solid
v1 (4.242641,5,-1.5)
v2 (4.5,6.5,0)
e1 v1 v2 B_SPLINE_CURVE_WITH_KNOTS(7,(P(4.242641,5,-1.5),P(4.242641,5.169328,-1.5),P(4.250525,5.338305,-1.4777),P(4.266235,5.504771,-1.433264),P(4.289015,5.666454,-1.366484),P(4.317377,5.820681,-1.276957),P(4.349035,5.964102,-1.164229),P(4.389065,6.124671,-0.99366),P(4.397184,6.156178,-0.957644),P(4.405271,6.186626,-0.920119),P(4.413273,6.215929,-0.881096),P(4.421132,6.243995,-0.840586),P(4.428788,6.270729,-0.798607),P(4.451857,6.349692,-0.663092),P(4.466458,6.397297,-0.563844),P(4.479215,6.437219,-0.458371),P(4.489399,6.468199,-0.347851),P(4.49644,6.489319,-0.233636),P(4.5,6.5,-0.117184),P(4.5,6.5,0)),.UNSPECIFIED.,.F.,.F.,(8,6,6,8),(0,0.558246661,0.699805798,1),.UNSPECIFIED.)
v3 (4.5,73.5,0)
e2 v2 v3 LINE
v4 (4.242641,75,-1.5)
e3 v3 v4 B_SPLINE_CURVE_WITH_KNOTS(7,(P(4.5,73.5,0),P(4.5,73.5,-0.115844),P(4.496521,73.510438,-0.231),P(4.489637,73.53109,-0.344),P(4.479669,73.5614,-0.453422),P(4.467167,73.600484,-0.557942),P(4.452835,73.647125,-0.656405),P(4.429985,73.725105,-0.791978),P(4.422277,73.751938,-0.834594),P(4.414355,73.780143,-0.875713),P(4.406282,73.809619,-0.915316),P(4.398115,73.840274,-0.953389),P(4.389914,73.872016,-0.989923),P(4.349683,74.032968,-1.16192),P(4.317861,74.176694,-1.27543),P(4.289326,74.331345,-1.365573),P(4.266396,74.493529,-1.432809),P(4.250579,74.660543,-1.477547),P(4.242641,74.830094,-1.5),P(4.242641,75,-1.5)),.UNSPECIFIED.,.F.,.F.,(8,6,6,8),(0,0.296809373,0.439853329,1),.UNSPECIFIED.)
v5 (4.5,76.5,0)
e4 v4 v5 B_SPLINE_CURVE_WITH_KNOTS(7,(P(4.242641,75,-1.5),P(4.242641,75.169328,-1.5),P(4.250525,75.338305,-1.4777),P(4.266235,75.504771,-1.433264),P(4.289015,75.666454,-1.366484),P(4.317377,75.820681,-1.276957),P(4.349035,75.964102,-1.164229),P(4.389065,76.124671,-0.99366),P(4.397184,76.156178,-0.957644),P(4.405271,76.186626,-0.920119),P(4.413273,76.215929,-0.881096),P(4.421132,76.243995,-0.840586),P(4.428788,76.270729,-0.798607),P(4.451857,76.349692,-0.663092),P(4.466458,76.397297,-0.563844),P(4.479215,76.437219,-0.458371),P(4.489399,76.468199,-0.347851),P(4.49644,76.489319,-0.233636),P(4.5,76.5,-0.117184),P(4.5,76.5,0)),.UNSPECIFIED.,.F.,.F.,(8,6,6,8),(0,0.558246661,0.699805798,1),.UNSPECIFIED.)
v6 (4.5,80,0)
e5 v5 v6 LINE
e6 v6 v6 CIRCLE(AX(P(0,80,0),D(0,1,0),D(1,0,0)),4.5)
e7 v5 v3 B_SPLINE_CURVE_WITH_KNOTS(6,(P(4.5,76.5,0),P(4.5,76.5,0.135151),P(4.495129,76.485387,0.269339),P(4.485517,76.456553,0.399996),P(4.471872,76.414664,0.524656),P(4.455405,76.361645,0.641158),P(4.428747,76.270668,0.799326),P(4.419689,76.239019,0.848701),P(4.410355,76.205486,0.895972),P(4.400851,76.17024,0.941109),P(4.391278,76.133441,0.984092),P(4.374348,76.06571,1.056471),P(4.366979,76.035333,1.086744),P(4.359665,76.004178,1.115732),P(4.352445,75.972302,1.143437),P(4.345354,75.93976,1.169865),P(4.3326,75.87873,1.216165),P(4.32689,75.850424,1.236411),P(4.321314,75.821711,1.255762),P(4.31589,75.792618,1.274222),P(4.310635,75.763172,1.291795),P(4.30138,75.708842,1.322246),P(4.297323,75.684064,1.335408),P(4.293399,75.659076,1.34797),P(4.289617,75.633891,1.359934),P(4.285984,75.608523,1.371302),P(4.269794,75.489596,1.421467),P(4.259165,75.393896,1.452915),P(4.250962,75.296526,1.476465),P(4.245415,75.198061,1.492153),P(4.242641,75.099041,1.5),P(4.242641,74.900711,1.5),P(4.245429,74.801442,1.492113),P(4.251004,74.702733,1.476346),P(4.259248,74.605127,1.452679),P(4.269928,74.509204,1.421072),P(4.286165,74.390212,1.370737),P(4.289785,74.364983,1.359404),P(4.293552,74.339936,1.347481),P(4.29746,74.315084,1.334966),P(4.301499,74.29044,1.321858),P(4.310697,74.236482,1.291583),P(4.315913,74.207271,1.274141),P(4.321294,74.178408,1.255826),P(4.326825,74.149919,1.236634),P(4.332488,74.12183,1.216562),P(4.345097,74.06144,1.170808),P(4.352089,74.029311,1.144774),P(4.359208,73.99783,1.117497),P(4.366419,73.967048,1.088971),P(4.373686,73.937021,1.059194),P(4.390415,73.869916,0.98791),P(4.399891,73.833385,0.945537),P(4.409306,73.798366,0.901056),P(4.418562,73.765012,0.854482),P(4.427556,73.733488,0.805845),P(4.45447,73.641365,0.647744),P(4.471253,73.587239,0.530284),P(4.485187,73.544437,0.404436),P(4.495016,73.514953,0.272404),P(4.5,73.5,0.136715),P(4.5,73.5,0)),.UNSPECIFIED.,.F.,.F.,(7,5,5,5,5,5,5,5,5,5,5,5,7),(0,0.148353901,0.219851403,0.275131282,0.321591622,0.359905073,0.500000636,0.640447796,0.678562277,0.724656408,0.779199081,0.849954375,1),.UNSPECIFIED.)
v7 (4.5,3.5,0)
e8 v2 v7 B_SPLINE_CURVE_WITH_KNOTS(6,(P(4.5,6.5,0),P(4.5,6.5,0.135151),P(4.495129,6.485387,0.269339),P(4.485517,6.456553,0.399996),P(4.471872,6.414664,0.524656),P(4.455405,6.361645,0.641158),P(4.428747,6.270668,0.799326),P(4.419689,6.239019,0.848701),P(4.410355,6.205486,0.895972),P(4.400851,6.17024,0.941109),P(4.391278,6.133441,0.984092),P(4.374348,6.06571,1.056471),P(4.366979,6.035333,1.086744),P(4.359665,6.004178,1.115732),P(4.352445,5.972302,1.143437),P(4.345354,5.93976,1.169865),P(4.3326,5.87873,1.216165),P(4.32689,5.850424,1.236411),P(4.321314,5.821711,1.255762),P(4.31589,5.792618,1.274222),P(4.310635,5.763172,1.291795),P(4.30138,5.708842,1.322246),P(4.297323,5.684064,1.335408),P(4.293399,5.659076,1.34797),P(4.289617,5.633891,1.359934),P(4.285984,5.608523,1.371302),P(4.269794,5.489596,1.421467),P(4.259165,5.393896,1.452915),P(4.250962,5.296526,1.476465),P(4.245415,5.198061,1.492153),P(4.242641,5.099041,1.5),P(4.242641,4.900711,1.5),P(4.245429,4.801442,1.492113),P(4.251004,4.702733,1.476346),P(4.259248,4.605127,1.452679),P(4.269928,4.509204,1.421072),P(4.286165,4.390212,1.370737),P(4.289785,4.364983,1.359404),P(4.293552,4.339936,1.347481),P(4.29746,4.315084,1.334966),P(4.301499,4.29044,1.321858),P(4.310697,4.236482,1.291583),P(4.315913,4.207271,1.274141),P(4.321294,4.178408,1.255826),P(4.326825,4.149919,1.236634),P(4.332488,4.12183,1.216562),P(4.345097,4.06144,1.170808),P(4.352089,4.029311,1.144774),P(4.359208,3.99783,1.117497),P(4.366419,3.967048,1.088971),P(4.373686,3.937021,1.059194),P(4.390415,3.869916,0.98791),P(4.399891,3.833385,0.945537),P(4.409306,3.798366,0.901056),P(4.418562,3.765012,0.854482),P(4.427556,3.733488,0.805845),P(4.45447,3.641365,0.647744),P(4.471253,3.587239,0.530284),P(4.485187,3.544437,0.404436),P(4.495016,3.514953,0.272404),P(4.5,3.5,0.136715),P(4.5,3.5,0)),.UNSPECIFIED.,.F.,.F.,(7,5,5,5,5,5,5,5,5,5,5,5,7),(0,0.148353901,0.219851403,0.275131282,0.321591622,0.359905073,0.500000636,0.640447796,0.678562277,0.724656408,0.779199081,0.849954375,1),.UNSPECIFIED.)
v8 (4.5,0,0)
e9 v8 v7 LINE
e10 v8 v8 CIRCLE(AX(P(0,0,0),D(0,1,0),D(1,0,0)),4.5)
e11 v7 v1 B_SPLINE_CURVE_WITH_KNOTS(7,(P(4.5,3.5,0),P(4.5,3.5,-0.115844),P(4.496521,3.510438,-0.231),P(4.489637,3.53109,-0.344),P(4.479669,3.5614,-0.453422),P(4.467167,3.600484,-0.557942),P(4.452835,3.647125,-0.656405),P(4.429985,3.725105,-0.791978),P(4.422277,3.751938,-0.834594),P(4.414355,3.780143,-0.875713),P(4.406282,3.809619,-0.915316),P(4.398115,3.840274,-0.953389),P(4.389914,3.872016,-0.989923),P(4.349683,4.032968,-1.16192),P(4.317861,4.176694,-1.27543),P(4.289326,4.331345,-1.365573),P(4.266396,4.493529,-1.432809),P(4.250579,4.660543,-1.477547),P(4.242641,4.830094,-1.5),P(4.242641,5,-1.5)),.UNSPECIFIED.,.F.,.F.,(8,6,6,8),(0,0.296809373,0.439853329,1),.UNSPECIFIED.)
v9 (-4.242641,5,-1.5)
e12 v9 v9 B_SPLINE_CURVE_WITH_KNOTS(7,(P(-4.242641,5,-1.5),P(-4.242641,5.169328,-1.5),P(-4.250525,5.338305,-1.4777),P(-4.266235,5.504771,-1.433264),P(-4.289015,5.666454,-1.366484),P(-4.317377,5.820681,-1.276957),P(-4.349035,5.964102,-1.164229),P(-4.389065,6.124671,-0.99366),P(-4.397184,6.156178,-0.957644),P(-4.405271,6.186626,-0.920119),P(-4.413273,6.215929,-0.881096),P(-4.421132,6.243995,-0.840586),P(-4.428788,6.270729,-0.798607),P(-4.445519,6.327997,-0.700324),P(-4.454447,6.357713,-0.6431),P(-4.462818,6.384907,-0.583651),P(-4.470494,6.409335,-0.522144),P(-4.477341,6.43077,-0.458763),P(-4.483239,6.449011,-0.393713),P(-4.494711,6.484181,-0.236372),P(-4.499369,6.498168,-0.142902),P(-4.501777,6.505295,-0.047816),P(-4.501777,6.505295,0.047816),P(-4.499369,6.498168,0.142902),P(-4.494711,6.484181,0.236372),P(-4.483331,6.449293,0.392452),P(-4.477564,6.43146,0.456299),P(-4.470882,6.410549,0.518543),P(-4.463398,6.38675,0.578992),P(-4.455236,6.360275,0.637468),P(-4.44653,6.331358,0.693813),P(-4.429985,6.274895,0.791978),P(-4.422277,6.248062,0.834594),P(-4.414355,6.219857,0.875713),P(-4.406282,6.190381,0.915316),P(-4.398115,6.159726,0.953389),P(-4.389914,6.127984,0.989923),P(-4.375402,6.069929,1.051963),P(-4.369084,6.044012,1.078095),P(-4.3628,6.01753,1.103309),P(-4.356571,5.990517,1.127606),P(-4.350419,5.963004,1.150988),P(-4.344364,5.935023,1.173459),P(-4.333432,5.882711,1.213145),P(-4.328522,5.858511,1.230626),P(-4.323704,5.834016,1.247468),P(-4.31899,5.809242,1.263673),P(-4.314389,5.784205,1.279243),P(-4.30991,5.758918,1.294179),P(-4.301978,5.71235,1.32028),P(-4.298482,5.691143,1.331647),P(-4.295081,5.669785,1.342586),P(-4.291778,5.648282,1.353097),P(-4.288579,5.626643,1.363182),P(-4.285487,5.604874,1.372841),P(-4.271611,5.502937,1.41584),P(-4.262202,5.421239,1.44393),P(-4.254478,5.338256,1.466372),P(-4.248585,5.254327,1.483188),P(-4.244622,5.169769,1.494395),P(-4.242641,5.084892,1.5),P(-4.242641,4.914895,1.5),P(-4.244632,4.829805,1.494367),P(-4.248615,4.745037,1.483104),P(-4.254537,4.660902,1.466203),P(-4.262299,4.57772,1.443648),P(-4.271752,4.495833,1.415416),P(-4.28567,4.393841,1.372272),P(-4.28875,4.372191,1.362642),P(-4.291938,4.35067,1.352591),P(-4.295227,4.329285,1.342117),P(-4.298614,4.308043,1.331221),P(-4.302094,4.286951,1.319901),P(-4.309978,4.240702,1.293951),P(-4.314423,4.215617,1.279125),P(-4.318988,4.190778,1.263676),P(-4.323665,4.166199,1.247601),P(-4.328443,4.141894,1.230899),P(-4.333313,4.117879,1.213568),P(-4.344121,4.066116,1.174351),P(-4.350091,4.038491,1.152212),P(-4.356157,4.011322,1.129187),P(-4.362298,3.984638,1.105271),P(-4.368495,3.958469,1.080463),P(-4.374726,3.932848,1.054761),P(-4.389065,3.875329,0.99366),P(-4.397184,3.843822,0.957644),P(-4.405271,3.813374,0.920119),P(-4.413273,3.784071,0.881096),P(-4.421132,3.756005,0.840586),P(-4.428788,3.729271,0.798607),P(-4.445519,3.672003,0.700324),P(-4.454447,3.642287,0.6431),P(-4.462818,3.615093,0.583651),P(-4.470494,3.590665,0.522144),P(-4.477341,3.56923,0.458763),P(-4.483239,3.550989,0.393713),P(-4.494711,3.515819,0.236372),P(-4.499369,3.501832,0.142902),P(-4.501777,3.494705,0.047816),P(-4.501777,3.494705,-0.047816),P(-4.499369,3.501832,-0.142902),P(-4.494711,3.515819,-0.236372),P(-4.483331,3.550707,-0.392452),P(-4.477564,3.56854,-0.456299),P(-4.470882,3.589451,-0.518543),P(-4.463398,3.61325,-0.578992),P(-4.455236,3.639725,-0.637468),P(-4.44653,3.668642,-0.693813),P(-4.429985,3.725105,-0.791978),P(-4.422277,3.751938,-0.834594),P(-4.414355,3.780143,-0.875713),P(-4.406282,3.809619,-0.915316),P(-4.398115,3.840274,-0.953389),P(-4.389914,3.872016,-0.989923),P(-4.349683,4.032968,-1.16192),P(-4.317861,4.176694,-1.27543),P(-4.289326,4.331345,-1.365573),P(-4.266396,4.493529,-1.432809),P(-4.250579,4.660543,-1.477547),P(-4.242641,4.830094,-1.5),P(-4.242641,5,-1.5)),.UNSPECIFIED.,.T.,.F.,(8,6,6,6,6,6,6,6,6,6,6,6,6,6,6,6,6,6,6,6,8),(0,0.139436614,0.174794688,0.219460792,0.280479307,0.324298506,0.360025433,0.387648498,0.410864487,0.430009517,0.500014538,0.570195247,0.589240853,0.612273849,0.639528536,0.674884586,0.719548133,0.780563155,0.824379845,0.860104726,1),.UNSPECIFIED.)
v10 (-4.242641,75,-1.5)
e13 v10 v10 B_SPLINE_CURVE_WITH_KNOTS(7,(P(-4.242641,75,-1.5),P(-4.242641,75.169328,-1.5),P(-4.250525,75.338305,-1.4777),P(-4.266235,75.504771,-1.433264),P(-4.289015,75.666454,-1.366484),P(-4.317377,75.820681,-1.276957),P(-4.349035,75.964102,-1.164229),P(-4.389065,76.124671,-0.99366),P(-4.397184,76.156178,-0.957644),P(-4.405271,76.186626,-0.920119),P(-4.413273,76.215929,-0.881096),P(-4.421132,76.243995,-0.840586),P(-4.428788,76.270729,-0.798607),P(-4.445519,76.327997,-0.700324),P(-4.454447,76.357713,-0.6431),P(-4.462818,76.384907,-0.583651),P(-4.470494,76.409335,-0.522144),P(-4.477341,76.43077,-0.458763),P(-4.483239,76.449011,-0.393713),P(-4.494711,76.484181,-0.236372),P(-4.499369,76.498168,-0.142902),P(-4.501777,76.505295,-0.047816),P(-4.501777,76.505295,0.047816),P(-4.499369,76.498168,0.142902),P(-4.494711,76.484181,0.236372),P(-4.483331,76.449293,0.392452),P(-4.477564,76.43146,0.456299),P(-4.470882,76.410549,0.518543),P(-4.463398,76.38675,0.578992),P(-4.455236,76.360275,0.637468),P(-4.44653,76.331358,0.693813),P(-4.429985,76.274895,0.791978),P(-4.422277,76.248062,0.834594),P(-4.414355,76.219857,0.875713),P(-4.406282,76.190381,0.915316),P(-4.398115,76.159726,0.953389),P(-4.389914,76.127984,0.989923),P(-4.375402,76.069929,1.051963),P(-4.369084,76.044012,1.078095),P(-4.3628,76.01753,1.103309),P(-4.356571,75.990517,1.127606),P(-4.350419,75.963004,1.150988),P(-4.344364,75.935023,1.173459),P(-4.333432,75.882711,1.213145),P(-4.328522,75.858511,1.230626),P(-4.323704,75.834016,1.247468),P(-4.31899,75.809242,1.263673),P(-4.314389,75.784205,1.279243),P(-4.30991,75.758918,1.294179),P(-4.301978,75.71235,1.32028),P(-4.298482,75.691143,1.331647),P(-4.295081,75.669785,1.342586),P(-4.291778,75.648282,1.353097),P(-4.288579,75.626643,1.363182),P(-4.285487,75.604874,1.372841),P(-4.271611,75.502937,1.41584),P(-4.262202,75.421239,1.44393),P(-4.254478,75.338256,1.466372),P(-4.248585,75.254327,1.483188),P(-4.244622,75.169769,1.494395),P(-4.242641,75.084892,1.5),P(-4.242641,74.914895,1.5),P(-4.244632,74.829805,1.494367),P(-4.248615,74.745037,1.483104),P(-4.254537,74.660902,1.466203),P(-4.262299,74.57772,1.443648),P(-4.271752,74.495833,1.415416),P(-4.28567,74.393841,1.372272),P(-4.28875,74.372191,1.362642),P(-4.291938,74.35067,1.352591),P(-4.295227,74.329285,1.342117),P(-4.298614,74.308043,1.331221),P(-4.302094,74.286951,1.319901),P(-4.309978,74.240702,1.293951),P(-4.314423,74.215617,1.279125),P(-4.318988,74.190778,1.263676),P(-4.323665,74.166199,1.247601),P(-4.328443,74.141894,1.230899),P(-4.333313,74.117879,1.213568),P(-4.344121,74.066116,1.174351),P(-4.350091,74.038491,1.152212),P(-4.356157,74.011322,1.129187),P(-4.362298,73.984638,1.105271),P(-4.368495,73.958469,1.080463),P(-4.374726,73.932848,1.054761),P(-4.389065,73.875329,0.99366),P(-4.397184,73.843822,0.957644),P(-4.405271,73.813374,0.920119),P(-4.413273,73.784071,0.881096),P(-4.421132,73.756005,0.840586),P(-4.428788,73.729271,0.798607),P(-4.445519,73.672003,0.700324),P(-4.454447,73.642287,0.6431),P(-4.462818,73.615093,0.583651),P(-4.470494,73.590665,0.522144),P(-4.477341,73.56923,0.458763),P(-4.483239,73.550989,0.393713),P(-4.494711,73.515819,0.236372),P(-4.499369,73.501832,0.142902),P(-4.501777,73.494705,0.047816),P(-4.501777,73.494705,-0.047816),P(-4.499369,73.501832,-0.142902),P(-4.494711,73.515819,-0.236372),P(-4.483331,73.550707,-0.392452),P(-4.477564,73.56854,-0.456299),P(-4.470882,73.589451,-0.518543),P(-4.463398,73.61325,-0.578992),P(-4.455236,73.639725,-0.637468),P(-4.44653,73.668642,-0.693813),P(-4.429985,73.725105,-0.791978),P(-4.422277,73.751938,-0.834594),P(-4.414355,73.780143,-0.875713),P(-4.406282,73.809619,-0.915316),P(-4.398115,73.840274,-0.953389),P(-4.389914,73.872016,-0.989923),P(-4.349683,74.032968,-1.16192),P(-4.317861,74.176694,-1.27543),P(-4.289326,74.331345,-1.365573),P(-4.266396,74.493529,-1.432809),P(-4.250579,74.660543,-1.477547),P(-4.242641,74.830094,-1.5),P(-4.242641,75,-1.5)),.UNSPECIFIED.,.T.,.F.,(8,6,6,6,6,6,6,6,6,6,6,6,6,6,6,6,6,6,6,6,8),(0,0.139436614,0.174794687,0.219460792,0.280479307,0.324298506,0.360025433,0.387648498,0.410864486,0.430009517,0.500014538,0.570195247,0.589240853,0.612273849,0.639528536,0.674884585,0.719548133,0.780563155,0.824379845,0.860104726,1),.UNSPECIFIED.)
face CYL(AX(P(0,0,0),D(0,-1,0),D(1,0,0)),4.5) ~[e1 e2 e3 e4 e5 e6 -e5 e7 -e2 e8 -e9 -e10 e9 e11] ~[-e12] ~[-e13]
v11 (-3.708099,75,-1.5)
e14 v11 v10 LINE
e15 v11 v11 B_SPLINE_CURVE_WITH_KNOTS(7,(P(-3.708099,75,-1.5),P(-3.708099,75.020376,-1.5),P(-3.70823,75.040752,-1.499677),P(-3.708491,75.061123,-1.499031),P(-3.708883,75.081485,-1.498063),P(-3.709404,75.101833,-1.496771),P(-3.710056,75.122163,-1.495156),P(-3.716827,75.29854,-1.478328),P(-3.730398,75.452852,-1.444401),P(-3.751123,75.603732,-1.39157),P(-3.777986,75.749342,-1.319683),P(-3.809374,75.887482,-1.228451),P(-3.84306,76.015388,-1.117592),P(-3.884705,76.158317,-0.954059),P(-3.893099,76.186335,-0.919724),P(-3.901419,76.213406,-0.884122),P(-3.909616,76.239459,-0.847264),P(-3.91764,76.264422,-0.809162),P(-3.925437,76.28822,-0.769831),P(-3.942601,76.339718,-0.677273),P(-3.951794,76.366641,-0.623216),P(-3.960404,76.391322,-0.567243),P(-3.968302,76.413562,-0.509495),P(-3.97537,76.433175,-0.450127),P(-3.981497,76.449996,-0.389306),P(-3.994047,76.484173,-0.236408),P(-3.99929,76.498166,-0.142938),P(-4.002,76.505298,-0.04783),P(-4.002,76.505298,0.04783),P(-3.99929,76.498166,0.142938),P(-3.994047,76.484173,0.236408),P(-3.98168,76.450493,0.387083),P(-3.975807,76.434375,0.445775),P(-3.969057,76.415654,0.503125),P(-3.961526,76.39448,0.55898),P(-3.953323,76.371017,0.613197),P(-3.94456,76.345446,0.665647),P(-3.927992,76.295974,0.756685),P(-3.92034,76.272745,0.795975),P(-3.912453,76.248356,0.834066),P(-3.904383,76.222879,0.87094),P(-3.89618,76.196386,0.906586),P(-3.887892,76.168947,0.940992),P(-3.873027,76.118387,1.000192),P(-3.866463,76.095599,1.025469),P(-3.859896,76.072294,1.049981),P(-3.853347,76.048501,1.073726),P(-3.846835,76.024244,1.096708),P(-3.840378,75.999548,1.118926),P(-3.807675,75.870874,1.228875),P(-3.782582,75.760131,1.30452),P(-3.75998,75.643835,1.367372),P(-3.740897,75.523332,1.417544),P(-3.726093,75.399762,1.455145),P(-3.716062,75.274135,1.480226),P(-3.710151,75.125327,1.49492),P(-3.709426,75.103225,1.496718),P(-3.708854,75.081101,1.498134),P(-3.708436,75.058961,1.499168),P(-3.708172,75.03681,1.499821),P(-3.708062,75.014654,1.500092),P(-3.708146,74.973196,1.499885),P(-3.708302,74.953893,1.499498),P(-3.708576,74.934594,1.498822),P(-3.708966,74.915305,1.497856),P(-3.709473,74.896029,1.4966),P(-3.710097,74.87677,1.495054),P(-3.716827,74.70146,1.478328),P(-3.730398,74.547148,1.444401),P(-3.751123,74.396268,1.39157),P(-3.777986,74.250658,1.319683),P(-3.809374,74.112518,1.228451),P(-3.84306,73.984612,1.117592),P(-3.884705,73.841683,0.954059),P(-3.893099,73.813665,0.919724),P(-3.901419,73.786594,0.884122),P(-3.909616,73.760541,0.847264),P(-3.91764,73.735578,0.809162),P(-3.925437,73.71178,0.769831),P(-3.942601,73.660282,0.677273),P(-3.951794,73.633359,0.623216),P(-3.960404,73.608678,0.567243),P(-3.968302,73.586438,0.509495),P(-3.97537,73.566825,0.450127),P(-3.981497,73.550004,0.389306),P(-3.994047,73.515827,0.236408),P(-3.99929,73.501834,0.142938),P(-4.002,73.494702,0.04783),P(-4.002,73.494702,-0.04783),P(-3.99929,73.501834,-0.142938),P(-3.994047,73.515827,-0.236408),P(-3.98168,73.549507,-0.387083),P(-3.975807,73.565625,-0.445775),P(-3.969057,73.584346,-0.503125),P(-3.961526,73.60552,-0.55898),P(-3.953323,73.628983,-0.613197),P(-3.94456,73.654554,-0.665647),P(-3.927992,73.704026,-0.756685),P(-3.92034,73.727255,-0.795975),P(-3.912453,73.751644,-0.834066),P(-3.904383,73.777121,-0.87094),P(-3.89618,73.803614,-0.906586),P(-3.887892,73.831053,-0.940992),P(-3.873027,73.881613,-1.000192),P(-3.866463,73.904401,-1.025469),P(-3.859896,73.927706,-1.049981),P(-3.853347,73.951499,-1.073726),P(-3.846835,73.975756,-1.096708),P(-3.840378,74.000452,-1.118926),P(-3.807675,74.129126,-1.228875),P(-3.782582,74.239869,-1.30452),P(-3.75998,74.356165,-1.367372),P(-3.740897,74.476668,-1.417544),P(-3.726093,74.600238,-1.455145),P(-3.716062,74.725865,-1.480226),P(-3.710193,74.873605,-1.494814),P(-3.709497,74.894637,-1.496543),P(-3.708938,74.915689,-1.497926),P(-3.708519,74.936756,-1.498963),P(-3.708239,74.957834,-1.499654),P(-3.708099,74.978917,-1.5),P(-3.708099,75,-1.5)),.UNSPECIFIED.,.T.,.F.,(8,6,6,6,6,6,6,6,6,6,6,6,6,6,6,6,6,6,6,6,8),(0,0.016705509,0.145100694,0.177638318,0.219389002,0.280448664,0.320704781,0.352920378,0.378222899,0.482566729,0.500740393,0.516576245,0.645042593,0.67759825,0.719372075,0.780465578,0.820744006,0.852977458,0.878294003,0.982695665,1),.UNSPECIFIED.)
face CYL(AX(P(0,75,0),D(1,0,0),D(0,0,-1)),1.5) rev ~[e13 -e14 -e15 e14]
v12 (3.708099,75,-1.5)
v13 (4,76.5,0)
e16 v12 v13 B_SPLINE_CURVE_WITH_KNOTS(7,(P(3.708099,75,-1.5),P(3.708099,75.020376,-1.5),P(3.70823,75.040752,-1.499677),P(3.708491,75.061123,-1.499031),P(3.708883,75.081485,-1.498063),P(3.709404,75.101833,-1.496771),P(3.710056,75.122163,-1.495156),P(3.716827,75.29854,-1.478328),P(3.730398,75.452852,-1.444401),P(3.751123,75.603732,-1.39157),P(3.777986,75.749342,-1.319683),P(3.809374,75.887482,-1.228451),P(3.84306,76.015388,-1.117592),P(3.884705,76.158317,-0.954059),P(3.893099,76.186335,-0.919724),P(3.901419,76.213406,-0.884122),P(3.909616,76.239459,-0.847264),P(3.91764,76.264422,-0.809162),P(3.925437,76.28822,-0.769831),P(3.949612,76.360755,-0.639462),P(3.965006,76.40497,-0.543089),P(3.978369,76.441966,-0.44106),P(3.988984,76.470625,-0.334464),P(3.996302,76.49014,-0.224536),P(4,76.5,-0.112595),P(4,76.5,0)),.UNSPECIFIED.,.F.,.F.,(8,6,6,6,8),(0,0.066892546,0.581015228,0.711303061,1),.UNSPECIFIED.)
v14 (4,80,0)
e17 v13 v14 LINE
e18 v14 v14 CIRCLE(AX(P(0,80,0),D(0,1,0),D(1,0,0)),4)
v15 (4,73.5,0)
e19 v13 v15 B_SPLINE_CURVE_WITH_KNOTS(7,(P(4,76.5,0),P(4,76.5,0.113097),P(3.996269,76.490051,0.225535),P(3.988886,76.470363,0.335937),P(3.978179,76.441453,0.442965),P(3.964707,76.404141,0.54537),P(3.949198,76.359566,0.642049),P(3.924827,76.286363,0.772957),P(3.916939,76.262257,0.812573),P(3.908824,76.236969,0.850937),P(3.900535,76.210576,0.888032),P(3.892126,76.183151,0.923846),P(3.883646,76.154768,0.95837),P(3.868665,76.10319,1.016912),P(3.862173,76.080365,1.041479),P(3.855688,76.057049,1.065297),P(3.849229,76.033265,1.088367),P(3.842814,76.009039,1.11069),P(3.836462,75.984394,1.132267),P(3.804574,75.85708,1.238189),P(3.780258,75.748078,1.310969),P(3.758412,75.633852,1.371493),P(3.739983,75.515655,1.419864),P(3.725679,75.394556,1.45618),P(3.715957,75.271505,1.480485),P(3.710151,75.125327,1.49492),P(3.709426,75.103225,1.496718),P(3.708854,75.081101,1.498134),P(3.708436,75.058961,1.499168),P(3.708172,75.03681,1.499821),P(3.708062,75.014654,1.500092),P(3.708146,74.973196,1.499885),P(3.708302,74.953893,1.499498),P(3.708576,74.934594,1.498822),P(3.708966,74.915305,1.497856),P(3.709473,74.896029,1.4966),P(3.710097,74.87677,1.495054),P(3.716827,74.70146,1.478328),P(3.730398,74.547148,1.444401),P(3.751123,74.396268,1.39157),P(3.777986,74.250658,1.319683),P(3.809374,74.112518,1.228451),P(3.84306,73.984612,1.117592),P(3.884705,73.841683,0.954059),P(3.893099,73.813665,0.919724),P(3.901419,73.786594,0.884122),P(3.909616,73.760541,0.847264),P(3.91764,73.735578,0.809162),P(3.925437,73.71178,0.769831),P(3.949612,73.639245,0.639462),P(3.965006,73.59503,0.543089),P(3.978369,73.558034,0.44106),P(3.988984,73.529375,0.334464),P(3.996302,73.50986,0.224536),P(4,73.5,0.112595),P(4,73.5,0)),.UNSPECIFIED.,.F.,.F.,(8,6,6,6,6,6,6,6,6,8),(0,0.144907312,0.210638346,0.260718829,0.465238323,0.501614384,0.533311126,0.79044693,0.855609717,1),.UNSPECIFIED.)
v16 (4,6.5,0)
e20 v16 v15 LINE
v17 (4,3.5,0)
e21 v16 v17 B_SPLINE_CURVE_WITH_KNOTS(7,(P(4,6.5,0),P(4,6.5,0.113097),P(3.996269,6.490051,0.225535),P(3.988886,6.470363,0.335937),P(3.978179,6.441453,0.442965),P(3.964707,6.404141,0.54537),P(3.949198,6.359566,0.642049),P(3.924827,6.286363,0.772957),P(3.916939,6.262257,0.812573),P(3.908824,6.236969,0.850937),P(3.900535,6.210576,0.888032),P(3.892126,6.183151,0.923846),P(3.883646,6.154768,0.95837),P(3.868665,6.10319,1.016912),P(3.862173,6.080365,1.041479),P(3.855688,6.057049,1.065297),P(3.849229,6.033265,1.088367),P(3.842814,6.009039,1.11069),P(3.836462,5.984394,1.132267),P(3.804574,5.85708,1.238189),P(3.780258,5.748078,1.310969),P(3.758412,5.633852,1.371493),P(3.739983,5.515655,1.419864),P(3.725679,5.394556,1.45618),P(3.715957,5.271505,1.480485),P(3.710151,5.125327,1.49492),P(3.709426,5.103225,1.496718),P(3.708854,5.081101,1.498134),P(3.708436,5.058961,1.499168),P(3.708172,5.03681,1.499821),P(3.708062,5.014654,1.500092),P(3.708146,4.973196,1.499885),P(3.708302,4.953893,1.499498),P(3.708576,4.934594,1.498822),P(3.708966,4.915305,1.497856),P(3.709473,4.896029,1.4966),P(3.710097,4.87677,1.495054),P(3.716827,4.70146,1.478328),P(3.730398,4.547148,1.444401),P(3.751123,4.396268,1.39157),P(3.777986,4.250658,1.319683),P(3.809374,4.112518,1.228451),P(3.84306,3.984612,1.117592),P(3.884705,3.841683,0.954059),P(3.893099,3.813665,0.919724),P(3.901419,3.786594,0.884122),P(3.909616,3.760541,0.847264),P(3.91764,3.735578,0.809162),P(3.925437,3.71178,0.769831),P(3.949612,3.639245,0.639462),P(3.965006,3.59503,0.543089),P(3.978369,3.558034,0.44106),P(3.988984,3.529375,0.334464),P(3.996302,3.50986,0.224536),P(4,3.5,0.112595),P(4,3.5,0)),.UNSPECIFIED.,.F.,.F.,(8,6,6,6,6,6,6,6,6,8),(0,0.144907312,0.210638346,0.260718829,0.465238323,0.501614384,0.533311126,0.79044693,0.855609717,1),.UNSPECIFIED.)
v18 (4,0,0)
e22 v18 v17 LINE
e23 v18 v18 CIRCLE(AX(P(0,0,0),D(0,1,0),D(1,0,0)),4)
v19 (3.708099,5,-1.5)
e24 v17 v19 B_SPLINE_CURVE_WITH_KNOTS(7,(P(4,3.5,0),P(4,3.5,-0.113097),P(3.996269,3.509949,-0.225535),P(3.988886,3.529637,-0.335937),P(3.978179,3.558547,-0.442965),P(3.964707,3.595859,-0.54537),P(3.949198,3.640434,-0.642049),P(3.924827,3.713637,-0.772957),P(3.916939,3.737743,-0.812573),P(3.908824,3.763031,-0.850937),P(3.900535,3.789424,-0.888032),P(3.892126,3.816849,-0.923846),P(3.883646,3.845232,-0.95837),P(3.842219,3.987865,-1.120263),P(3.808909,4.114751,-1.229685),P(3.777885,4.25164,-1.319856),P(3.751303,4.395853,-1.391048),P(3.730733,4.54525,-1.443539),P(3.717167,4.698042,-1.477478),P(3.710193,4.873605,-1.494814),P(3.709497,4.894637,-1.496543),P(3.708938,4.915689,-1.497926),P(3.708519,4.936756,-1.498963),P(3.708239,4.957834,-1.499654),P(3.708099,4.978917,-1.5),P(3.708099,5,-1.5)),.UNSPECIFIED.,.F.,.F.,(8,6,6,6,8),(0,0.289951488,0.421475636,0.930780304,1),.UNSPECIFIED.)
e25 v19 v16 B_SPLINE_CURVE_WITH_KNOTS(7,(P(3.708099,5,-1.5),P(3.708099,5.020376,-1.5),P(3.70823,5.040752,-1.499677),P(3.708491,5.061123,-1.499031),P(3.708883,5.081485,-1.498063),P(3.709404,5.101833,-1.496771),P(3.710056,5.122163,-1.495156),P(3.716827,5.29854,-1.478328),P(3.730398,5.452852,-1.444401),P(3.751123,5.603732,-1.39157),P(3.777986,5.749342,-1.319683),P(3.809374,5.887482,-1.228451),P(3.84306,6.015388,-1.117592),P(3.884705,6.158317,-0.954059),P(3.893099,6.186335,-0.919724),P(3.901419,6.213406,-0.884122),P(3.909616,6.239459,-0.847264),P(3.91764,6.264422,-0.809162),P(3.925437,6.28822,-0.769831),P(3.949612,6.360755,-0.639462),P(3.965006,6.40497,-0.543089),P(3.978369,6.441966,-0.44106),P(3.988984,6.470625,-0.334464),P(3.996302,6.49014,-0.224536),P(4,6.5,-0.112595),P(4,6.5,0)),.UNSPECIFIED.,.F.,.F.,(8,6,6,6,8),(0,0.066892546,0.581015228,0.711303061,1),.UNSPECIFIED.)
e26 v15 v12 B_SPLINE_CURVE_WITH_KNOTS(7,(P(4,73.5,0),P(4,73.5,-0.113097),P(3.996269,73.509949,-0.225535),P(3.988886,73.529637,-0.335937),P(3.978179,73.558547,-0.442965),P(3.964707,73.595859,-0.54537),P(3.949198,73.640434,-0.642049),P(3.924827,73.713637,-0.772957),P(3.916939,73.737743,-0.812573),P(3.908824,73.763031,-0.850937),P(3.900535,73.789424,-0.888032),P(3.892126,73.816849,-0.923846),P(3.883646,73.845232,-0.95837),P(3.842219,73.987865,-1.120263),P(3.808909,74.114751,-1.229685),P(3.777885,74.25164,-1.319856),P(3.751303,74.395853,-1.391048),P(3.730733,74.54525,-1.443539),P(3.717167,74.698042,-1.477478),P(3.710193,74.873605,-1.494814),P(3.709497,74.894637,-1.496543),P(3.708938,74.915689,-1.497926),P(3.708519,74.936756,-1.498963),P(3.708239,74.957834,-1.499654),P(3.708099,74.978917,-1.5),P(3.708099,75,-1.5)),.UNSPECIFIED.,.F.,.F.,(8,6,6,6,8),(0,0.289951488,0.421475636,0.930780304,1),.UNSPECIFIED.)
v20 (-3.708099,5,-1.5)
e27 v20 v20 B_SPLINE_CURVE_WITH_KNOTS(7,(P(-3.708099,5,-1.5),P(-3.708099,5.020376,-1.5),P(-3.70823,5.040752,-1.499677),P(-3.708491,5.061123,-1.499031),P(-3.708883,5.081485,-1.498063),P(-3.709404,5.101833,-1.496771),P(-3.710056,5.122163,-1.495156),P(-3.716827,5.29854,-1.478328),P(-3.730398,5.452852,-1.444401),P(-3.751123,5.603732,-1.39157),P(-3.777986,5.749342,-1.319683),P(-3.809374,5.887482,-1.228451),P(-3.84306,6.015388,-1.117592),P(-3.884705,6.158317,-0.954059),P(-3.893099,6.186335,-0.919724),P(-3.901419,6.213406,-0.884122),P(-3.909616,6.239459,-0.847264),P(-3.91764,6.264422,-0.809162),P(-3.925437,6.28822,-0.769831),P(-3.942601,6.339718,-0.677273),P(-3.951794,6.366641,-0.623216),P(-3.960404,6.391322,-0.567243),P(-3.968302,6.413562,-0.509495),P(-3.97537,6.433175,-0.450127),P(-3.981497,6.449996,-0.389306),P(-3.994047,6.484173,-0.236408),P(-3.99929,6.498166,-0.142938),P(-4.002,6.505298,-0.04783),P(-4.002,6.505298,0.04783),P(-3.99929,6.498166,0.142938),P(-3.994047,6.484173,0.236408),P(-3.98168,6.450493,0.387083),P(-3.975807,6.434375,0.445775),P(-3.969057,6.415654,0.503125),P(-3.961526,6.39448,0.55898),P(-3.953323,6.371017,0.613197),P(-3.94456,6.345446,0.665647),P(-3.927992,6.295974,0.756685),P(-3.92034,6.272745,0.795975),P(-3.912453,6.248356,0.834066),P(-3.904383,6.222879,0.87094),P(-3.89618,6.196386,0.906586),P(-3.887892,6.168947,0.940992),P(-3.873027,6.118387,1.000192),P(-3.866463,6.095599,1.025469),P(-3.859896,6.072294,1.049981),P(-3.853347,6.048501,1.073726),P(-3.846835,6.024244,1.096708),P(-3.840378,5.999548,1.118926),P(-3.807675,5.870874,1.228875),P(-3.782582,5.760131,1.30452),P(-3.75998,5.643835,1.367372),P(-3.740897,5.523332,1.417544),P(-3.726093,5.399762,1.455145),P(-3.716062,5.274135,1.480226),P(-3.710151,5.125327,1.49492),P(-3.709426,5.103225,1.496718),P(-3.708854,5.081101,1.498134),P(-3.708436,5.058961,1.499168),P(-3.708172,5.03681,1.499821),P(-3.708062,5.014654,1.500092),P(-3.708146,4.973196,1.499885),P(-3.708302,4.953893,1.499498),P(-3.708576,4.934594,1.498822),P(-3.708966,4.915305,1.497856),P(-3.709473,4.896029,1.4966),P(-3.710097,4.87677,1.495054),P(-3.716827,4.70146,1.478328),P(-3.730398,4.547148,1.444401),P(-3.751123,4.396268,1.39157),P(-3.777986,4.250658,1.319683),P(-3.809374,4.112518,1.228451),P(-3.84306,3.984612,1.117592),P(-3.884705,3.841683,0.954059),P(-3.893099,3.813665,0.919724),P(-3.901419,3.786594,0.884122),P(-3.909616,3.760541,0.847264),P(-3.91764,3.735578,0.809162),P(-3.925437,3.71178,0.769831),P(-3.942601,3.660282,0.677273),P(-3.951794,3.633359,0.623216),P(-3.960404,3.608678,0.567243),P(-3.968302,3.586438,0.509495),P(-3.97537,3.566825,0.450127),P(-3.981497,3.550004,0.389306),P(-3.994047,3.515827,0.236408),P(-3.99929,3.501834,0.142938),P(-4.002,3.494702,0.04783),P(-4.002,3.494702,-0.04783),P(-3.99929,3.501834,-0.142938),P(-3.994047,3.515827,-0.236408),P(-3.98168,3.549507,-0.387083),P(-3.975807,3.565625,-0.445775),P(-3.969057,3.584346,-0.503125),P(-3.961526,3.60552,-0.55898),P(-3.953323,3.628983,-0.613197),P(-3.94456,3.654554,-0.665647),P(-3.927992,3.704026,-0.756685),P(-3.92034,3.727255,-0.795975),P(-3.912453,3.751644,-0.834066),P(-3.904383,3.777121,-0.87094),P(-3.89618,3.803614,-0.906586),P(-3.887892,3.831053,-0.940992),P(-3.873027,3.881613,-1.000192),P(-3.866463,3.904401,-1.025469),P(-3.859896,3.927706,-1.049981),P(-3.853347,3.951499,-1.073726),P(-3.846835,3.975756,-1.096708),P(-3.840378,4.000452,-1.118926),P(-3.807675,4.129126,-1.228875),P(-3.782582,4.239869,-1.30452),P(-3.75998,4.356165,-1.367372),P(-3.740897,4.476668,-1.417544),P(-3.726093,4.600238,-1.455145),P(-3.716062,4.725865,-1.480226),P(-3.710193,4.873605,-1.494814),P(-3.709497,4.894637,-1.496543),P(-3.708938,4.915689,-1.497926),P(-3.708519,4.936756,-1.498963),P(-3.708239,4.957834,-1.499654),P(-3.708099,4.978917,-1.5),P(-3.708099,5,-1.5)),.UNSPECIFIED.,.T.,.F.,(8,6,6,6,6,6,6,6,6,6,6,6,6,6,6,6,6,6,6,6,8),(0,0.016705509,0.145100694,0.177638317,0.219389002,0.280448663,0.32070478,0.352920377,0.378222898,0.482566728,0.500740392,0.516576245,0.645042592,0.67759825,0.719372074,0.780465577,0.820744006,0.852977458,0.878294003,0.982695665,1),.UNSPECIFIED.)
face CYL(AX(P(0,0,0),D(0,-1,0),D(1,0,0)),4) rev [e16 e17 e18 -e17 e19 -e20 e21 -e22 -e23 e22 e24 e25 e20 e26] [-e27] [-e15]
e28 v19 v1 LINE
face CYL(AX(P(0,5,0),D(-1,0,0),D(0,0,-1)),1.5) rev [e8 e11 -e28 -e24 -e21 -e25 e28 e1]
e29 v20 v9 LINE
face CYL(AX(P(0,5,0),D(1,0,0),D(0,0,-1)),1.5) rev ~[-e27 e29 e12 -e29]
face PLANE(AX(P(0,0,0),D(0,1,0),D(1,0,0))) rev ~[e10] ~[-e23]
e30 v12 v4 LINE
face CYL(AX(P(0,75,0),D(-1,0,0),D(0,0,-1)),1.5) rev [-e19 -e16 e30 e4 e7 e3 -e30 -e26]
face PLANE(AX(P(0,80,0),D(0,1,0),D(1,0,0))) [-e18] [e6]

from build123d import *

# Parameters (mm, degrees)
CROQUIS1_R                 = 4.5
CROQUIS1_R_2               = 4
SALIENTE_EXTRUIR1_DEPTH    = 80
CROQUIS2_R                 = 1.5
CORTAR_EXTRUIR1_DEPTH      = 5.5
CORTAR_EXTRUIR1_DEPTH_BACK = 5.5


with BuildPart() as part:
    # Croquis1 → Saliente-Extruir1 (new body)
    with BuildSketch(Plane(origin=(0, 0, 0), x_dir=(1, 0, 0), z_dir=(0, 1, 0))):
        Circle(CROQUIS1_R)
        Circle(CROQUIS1_R_2, mode=Mode.SUBTRACT)
    extrude(amount=SALIENTE_EXTRUIR1_DEPTH)

    # Croquis2 → Cortar-Extruir1 (cut, two sides)
    with BuildSketch(Plane(origin=(0, 0, 0), x_dir=(0, 0, -1), z_dir=(1, 0, 0))) as cortar_extruir1_sk:
        with Locations((0, 75)):
            Circle(CROQUIS2_R)
        with Locations((0, 5)):
            Circle(CROQUIS2_R)
    extrude(amount=CORTAR_EXTRUIR1_DEPTH, mode=Mode.SUBTRACT)
    extrude(cortar_extruir1_sk.sketch, amount=-CORTAR_EXTRUIR1_DEPTH_BACK, mode=Mode.SUBTRACT)


solid = part.part
